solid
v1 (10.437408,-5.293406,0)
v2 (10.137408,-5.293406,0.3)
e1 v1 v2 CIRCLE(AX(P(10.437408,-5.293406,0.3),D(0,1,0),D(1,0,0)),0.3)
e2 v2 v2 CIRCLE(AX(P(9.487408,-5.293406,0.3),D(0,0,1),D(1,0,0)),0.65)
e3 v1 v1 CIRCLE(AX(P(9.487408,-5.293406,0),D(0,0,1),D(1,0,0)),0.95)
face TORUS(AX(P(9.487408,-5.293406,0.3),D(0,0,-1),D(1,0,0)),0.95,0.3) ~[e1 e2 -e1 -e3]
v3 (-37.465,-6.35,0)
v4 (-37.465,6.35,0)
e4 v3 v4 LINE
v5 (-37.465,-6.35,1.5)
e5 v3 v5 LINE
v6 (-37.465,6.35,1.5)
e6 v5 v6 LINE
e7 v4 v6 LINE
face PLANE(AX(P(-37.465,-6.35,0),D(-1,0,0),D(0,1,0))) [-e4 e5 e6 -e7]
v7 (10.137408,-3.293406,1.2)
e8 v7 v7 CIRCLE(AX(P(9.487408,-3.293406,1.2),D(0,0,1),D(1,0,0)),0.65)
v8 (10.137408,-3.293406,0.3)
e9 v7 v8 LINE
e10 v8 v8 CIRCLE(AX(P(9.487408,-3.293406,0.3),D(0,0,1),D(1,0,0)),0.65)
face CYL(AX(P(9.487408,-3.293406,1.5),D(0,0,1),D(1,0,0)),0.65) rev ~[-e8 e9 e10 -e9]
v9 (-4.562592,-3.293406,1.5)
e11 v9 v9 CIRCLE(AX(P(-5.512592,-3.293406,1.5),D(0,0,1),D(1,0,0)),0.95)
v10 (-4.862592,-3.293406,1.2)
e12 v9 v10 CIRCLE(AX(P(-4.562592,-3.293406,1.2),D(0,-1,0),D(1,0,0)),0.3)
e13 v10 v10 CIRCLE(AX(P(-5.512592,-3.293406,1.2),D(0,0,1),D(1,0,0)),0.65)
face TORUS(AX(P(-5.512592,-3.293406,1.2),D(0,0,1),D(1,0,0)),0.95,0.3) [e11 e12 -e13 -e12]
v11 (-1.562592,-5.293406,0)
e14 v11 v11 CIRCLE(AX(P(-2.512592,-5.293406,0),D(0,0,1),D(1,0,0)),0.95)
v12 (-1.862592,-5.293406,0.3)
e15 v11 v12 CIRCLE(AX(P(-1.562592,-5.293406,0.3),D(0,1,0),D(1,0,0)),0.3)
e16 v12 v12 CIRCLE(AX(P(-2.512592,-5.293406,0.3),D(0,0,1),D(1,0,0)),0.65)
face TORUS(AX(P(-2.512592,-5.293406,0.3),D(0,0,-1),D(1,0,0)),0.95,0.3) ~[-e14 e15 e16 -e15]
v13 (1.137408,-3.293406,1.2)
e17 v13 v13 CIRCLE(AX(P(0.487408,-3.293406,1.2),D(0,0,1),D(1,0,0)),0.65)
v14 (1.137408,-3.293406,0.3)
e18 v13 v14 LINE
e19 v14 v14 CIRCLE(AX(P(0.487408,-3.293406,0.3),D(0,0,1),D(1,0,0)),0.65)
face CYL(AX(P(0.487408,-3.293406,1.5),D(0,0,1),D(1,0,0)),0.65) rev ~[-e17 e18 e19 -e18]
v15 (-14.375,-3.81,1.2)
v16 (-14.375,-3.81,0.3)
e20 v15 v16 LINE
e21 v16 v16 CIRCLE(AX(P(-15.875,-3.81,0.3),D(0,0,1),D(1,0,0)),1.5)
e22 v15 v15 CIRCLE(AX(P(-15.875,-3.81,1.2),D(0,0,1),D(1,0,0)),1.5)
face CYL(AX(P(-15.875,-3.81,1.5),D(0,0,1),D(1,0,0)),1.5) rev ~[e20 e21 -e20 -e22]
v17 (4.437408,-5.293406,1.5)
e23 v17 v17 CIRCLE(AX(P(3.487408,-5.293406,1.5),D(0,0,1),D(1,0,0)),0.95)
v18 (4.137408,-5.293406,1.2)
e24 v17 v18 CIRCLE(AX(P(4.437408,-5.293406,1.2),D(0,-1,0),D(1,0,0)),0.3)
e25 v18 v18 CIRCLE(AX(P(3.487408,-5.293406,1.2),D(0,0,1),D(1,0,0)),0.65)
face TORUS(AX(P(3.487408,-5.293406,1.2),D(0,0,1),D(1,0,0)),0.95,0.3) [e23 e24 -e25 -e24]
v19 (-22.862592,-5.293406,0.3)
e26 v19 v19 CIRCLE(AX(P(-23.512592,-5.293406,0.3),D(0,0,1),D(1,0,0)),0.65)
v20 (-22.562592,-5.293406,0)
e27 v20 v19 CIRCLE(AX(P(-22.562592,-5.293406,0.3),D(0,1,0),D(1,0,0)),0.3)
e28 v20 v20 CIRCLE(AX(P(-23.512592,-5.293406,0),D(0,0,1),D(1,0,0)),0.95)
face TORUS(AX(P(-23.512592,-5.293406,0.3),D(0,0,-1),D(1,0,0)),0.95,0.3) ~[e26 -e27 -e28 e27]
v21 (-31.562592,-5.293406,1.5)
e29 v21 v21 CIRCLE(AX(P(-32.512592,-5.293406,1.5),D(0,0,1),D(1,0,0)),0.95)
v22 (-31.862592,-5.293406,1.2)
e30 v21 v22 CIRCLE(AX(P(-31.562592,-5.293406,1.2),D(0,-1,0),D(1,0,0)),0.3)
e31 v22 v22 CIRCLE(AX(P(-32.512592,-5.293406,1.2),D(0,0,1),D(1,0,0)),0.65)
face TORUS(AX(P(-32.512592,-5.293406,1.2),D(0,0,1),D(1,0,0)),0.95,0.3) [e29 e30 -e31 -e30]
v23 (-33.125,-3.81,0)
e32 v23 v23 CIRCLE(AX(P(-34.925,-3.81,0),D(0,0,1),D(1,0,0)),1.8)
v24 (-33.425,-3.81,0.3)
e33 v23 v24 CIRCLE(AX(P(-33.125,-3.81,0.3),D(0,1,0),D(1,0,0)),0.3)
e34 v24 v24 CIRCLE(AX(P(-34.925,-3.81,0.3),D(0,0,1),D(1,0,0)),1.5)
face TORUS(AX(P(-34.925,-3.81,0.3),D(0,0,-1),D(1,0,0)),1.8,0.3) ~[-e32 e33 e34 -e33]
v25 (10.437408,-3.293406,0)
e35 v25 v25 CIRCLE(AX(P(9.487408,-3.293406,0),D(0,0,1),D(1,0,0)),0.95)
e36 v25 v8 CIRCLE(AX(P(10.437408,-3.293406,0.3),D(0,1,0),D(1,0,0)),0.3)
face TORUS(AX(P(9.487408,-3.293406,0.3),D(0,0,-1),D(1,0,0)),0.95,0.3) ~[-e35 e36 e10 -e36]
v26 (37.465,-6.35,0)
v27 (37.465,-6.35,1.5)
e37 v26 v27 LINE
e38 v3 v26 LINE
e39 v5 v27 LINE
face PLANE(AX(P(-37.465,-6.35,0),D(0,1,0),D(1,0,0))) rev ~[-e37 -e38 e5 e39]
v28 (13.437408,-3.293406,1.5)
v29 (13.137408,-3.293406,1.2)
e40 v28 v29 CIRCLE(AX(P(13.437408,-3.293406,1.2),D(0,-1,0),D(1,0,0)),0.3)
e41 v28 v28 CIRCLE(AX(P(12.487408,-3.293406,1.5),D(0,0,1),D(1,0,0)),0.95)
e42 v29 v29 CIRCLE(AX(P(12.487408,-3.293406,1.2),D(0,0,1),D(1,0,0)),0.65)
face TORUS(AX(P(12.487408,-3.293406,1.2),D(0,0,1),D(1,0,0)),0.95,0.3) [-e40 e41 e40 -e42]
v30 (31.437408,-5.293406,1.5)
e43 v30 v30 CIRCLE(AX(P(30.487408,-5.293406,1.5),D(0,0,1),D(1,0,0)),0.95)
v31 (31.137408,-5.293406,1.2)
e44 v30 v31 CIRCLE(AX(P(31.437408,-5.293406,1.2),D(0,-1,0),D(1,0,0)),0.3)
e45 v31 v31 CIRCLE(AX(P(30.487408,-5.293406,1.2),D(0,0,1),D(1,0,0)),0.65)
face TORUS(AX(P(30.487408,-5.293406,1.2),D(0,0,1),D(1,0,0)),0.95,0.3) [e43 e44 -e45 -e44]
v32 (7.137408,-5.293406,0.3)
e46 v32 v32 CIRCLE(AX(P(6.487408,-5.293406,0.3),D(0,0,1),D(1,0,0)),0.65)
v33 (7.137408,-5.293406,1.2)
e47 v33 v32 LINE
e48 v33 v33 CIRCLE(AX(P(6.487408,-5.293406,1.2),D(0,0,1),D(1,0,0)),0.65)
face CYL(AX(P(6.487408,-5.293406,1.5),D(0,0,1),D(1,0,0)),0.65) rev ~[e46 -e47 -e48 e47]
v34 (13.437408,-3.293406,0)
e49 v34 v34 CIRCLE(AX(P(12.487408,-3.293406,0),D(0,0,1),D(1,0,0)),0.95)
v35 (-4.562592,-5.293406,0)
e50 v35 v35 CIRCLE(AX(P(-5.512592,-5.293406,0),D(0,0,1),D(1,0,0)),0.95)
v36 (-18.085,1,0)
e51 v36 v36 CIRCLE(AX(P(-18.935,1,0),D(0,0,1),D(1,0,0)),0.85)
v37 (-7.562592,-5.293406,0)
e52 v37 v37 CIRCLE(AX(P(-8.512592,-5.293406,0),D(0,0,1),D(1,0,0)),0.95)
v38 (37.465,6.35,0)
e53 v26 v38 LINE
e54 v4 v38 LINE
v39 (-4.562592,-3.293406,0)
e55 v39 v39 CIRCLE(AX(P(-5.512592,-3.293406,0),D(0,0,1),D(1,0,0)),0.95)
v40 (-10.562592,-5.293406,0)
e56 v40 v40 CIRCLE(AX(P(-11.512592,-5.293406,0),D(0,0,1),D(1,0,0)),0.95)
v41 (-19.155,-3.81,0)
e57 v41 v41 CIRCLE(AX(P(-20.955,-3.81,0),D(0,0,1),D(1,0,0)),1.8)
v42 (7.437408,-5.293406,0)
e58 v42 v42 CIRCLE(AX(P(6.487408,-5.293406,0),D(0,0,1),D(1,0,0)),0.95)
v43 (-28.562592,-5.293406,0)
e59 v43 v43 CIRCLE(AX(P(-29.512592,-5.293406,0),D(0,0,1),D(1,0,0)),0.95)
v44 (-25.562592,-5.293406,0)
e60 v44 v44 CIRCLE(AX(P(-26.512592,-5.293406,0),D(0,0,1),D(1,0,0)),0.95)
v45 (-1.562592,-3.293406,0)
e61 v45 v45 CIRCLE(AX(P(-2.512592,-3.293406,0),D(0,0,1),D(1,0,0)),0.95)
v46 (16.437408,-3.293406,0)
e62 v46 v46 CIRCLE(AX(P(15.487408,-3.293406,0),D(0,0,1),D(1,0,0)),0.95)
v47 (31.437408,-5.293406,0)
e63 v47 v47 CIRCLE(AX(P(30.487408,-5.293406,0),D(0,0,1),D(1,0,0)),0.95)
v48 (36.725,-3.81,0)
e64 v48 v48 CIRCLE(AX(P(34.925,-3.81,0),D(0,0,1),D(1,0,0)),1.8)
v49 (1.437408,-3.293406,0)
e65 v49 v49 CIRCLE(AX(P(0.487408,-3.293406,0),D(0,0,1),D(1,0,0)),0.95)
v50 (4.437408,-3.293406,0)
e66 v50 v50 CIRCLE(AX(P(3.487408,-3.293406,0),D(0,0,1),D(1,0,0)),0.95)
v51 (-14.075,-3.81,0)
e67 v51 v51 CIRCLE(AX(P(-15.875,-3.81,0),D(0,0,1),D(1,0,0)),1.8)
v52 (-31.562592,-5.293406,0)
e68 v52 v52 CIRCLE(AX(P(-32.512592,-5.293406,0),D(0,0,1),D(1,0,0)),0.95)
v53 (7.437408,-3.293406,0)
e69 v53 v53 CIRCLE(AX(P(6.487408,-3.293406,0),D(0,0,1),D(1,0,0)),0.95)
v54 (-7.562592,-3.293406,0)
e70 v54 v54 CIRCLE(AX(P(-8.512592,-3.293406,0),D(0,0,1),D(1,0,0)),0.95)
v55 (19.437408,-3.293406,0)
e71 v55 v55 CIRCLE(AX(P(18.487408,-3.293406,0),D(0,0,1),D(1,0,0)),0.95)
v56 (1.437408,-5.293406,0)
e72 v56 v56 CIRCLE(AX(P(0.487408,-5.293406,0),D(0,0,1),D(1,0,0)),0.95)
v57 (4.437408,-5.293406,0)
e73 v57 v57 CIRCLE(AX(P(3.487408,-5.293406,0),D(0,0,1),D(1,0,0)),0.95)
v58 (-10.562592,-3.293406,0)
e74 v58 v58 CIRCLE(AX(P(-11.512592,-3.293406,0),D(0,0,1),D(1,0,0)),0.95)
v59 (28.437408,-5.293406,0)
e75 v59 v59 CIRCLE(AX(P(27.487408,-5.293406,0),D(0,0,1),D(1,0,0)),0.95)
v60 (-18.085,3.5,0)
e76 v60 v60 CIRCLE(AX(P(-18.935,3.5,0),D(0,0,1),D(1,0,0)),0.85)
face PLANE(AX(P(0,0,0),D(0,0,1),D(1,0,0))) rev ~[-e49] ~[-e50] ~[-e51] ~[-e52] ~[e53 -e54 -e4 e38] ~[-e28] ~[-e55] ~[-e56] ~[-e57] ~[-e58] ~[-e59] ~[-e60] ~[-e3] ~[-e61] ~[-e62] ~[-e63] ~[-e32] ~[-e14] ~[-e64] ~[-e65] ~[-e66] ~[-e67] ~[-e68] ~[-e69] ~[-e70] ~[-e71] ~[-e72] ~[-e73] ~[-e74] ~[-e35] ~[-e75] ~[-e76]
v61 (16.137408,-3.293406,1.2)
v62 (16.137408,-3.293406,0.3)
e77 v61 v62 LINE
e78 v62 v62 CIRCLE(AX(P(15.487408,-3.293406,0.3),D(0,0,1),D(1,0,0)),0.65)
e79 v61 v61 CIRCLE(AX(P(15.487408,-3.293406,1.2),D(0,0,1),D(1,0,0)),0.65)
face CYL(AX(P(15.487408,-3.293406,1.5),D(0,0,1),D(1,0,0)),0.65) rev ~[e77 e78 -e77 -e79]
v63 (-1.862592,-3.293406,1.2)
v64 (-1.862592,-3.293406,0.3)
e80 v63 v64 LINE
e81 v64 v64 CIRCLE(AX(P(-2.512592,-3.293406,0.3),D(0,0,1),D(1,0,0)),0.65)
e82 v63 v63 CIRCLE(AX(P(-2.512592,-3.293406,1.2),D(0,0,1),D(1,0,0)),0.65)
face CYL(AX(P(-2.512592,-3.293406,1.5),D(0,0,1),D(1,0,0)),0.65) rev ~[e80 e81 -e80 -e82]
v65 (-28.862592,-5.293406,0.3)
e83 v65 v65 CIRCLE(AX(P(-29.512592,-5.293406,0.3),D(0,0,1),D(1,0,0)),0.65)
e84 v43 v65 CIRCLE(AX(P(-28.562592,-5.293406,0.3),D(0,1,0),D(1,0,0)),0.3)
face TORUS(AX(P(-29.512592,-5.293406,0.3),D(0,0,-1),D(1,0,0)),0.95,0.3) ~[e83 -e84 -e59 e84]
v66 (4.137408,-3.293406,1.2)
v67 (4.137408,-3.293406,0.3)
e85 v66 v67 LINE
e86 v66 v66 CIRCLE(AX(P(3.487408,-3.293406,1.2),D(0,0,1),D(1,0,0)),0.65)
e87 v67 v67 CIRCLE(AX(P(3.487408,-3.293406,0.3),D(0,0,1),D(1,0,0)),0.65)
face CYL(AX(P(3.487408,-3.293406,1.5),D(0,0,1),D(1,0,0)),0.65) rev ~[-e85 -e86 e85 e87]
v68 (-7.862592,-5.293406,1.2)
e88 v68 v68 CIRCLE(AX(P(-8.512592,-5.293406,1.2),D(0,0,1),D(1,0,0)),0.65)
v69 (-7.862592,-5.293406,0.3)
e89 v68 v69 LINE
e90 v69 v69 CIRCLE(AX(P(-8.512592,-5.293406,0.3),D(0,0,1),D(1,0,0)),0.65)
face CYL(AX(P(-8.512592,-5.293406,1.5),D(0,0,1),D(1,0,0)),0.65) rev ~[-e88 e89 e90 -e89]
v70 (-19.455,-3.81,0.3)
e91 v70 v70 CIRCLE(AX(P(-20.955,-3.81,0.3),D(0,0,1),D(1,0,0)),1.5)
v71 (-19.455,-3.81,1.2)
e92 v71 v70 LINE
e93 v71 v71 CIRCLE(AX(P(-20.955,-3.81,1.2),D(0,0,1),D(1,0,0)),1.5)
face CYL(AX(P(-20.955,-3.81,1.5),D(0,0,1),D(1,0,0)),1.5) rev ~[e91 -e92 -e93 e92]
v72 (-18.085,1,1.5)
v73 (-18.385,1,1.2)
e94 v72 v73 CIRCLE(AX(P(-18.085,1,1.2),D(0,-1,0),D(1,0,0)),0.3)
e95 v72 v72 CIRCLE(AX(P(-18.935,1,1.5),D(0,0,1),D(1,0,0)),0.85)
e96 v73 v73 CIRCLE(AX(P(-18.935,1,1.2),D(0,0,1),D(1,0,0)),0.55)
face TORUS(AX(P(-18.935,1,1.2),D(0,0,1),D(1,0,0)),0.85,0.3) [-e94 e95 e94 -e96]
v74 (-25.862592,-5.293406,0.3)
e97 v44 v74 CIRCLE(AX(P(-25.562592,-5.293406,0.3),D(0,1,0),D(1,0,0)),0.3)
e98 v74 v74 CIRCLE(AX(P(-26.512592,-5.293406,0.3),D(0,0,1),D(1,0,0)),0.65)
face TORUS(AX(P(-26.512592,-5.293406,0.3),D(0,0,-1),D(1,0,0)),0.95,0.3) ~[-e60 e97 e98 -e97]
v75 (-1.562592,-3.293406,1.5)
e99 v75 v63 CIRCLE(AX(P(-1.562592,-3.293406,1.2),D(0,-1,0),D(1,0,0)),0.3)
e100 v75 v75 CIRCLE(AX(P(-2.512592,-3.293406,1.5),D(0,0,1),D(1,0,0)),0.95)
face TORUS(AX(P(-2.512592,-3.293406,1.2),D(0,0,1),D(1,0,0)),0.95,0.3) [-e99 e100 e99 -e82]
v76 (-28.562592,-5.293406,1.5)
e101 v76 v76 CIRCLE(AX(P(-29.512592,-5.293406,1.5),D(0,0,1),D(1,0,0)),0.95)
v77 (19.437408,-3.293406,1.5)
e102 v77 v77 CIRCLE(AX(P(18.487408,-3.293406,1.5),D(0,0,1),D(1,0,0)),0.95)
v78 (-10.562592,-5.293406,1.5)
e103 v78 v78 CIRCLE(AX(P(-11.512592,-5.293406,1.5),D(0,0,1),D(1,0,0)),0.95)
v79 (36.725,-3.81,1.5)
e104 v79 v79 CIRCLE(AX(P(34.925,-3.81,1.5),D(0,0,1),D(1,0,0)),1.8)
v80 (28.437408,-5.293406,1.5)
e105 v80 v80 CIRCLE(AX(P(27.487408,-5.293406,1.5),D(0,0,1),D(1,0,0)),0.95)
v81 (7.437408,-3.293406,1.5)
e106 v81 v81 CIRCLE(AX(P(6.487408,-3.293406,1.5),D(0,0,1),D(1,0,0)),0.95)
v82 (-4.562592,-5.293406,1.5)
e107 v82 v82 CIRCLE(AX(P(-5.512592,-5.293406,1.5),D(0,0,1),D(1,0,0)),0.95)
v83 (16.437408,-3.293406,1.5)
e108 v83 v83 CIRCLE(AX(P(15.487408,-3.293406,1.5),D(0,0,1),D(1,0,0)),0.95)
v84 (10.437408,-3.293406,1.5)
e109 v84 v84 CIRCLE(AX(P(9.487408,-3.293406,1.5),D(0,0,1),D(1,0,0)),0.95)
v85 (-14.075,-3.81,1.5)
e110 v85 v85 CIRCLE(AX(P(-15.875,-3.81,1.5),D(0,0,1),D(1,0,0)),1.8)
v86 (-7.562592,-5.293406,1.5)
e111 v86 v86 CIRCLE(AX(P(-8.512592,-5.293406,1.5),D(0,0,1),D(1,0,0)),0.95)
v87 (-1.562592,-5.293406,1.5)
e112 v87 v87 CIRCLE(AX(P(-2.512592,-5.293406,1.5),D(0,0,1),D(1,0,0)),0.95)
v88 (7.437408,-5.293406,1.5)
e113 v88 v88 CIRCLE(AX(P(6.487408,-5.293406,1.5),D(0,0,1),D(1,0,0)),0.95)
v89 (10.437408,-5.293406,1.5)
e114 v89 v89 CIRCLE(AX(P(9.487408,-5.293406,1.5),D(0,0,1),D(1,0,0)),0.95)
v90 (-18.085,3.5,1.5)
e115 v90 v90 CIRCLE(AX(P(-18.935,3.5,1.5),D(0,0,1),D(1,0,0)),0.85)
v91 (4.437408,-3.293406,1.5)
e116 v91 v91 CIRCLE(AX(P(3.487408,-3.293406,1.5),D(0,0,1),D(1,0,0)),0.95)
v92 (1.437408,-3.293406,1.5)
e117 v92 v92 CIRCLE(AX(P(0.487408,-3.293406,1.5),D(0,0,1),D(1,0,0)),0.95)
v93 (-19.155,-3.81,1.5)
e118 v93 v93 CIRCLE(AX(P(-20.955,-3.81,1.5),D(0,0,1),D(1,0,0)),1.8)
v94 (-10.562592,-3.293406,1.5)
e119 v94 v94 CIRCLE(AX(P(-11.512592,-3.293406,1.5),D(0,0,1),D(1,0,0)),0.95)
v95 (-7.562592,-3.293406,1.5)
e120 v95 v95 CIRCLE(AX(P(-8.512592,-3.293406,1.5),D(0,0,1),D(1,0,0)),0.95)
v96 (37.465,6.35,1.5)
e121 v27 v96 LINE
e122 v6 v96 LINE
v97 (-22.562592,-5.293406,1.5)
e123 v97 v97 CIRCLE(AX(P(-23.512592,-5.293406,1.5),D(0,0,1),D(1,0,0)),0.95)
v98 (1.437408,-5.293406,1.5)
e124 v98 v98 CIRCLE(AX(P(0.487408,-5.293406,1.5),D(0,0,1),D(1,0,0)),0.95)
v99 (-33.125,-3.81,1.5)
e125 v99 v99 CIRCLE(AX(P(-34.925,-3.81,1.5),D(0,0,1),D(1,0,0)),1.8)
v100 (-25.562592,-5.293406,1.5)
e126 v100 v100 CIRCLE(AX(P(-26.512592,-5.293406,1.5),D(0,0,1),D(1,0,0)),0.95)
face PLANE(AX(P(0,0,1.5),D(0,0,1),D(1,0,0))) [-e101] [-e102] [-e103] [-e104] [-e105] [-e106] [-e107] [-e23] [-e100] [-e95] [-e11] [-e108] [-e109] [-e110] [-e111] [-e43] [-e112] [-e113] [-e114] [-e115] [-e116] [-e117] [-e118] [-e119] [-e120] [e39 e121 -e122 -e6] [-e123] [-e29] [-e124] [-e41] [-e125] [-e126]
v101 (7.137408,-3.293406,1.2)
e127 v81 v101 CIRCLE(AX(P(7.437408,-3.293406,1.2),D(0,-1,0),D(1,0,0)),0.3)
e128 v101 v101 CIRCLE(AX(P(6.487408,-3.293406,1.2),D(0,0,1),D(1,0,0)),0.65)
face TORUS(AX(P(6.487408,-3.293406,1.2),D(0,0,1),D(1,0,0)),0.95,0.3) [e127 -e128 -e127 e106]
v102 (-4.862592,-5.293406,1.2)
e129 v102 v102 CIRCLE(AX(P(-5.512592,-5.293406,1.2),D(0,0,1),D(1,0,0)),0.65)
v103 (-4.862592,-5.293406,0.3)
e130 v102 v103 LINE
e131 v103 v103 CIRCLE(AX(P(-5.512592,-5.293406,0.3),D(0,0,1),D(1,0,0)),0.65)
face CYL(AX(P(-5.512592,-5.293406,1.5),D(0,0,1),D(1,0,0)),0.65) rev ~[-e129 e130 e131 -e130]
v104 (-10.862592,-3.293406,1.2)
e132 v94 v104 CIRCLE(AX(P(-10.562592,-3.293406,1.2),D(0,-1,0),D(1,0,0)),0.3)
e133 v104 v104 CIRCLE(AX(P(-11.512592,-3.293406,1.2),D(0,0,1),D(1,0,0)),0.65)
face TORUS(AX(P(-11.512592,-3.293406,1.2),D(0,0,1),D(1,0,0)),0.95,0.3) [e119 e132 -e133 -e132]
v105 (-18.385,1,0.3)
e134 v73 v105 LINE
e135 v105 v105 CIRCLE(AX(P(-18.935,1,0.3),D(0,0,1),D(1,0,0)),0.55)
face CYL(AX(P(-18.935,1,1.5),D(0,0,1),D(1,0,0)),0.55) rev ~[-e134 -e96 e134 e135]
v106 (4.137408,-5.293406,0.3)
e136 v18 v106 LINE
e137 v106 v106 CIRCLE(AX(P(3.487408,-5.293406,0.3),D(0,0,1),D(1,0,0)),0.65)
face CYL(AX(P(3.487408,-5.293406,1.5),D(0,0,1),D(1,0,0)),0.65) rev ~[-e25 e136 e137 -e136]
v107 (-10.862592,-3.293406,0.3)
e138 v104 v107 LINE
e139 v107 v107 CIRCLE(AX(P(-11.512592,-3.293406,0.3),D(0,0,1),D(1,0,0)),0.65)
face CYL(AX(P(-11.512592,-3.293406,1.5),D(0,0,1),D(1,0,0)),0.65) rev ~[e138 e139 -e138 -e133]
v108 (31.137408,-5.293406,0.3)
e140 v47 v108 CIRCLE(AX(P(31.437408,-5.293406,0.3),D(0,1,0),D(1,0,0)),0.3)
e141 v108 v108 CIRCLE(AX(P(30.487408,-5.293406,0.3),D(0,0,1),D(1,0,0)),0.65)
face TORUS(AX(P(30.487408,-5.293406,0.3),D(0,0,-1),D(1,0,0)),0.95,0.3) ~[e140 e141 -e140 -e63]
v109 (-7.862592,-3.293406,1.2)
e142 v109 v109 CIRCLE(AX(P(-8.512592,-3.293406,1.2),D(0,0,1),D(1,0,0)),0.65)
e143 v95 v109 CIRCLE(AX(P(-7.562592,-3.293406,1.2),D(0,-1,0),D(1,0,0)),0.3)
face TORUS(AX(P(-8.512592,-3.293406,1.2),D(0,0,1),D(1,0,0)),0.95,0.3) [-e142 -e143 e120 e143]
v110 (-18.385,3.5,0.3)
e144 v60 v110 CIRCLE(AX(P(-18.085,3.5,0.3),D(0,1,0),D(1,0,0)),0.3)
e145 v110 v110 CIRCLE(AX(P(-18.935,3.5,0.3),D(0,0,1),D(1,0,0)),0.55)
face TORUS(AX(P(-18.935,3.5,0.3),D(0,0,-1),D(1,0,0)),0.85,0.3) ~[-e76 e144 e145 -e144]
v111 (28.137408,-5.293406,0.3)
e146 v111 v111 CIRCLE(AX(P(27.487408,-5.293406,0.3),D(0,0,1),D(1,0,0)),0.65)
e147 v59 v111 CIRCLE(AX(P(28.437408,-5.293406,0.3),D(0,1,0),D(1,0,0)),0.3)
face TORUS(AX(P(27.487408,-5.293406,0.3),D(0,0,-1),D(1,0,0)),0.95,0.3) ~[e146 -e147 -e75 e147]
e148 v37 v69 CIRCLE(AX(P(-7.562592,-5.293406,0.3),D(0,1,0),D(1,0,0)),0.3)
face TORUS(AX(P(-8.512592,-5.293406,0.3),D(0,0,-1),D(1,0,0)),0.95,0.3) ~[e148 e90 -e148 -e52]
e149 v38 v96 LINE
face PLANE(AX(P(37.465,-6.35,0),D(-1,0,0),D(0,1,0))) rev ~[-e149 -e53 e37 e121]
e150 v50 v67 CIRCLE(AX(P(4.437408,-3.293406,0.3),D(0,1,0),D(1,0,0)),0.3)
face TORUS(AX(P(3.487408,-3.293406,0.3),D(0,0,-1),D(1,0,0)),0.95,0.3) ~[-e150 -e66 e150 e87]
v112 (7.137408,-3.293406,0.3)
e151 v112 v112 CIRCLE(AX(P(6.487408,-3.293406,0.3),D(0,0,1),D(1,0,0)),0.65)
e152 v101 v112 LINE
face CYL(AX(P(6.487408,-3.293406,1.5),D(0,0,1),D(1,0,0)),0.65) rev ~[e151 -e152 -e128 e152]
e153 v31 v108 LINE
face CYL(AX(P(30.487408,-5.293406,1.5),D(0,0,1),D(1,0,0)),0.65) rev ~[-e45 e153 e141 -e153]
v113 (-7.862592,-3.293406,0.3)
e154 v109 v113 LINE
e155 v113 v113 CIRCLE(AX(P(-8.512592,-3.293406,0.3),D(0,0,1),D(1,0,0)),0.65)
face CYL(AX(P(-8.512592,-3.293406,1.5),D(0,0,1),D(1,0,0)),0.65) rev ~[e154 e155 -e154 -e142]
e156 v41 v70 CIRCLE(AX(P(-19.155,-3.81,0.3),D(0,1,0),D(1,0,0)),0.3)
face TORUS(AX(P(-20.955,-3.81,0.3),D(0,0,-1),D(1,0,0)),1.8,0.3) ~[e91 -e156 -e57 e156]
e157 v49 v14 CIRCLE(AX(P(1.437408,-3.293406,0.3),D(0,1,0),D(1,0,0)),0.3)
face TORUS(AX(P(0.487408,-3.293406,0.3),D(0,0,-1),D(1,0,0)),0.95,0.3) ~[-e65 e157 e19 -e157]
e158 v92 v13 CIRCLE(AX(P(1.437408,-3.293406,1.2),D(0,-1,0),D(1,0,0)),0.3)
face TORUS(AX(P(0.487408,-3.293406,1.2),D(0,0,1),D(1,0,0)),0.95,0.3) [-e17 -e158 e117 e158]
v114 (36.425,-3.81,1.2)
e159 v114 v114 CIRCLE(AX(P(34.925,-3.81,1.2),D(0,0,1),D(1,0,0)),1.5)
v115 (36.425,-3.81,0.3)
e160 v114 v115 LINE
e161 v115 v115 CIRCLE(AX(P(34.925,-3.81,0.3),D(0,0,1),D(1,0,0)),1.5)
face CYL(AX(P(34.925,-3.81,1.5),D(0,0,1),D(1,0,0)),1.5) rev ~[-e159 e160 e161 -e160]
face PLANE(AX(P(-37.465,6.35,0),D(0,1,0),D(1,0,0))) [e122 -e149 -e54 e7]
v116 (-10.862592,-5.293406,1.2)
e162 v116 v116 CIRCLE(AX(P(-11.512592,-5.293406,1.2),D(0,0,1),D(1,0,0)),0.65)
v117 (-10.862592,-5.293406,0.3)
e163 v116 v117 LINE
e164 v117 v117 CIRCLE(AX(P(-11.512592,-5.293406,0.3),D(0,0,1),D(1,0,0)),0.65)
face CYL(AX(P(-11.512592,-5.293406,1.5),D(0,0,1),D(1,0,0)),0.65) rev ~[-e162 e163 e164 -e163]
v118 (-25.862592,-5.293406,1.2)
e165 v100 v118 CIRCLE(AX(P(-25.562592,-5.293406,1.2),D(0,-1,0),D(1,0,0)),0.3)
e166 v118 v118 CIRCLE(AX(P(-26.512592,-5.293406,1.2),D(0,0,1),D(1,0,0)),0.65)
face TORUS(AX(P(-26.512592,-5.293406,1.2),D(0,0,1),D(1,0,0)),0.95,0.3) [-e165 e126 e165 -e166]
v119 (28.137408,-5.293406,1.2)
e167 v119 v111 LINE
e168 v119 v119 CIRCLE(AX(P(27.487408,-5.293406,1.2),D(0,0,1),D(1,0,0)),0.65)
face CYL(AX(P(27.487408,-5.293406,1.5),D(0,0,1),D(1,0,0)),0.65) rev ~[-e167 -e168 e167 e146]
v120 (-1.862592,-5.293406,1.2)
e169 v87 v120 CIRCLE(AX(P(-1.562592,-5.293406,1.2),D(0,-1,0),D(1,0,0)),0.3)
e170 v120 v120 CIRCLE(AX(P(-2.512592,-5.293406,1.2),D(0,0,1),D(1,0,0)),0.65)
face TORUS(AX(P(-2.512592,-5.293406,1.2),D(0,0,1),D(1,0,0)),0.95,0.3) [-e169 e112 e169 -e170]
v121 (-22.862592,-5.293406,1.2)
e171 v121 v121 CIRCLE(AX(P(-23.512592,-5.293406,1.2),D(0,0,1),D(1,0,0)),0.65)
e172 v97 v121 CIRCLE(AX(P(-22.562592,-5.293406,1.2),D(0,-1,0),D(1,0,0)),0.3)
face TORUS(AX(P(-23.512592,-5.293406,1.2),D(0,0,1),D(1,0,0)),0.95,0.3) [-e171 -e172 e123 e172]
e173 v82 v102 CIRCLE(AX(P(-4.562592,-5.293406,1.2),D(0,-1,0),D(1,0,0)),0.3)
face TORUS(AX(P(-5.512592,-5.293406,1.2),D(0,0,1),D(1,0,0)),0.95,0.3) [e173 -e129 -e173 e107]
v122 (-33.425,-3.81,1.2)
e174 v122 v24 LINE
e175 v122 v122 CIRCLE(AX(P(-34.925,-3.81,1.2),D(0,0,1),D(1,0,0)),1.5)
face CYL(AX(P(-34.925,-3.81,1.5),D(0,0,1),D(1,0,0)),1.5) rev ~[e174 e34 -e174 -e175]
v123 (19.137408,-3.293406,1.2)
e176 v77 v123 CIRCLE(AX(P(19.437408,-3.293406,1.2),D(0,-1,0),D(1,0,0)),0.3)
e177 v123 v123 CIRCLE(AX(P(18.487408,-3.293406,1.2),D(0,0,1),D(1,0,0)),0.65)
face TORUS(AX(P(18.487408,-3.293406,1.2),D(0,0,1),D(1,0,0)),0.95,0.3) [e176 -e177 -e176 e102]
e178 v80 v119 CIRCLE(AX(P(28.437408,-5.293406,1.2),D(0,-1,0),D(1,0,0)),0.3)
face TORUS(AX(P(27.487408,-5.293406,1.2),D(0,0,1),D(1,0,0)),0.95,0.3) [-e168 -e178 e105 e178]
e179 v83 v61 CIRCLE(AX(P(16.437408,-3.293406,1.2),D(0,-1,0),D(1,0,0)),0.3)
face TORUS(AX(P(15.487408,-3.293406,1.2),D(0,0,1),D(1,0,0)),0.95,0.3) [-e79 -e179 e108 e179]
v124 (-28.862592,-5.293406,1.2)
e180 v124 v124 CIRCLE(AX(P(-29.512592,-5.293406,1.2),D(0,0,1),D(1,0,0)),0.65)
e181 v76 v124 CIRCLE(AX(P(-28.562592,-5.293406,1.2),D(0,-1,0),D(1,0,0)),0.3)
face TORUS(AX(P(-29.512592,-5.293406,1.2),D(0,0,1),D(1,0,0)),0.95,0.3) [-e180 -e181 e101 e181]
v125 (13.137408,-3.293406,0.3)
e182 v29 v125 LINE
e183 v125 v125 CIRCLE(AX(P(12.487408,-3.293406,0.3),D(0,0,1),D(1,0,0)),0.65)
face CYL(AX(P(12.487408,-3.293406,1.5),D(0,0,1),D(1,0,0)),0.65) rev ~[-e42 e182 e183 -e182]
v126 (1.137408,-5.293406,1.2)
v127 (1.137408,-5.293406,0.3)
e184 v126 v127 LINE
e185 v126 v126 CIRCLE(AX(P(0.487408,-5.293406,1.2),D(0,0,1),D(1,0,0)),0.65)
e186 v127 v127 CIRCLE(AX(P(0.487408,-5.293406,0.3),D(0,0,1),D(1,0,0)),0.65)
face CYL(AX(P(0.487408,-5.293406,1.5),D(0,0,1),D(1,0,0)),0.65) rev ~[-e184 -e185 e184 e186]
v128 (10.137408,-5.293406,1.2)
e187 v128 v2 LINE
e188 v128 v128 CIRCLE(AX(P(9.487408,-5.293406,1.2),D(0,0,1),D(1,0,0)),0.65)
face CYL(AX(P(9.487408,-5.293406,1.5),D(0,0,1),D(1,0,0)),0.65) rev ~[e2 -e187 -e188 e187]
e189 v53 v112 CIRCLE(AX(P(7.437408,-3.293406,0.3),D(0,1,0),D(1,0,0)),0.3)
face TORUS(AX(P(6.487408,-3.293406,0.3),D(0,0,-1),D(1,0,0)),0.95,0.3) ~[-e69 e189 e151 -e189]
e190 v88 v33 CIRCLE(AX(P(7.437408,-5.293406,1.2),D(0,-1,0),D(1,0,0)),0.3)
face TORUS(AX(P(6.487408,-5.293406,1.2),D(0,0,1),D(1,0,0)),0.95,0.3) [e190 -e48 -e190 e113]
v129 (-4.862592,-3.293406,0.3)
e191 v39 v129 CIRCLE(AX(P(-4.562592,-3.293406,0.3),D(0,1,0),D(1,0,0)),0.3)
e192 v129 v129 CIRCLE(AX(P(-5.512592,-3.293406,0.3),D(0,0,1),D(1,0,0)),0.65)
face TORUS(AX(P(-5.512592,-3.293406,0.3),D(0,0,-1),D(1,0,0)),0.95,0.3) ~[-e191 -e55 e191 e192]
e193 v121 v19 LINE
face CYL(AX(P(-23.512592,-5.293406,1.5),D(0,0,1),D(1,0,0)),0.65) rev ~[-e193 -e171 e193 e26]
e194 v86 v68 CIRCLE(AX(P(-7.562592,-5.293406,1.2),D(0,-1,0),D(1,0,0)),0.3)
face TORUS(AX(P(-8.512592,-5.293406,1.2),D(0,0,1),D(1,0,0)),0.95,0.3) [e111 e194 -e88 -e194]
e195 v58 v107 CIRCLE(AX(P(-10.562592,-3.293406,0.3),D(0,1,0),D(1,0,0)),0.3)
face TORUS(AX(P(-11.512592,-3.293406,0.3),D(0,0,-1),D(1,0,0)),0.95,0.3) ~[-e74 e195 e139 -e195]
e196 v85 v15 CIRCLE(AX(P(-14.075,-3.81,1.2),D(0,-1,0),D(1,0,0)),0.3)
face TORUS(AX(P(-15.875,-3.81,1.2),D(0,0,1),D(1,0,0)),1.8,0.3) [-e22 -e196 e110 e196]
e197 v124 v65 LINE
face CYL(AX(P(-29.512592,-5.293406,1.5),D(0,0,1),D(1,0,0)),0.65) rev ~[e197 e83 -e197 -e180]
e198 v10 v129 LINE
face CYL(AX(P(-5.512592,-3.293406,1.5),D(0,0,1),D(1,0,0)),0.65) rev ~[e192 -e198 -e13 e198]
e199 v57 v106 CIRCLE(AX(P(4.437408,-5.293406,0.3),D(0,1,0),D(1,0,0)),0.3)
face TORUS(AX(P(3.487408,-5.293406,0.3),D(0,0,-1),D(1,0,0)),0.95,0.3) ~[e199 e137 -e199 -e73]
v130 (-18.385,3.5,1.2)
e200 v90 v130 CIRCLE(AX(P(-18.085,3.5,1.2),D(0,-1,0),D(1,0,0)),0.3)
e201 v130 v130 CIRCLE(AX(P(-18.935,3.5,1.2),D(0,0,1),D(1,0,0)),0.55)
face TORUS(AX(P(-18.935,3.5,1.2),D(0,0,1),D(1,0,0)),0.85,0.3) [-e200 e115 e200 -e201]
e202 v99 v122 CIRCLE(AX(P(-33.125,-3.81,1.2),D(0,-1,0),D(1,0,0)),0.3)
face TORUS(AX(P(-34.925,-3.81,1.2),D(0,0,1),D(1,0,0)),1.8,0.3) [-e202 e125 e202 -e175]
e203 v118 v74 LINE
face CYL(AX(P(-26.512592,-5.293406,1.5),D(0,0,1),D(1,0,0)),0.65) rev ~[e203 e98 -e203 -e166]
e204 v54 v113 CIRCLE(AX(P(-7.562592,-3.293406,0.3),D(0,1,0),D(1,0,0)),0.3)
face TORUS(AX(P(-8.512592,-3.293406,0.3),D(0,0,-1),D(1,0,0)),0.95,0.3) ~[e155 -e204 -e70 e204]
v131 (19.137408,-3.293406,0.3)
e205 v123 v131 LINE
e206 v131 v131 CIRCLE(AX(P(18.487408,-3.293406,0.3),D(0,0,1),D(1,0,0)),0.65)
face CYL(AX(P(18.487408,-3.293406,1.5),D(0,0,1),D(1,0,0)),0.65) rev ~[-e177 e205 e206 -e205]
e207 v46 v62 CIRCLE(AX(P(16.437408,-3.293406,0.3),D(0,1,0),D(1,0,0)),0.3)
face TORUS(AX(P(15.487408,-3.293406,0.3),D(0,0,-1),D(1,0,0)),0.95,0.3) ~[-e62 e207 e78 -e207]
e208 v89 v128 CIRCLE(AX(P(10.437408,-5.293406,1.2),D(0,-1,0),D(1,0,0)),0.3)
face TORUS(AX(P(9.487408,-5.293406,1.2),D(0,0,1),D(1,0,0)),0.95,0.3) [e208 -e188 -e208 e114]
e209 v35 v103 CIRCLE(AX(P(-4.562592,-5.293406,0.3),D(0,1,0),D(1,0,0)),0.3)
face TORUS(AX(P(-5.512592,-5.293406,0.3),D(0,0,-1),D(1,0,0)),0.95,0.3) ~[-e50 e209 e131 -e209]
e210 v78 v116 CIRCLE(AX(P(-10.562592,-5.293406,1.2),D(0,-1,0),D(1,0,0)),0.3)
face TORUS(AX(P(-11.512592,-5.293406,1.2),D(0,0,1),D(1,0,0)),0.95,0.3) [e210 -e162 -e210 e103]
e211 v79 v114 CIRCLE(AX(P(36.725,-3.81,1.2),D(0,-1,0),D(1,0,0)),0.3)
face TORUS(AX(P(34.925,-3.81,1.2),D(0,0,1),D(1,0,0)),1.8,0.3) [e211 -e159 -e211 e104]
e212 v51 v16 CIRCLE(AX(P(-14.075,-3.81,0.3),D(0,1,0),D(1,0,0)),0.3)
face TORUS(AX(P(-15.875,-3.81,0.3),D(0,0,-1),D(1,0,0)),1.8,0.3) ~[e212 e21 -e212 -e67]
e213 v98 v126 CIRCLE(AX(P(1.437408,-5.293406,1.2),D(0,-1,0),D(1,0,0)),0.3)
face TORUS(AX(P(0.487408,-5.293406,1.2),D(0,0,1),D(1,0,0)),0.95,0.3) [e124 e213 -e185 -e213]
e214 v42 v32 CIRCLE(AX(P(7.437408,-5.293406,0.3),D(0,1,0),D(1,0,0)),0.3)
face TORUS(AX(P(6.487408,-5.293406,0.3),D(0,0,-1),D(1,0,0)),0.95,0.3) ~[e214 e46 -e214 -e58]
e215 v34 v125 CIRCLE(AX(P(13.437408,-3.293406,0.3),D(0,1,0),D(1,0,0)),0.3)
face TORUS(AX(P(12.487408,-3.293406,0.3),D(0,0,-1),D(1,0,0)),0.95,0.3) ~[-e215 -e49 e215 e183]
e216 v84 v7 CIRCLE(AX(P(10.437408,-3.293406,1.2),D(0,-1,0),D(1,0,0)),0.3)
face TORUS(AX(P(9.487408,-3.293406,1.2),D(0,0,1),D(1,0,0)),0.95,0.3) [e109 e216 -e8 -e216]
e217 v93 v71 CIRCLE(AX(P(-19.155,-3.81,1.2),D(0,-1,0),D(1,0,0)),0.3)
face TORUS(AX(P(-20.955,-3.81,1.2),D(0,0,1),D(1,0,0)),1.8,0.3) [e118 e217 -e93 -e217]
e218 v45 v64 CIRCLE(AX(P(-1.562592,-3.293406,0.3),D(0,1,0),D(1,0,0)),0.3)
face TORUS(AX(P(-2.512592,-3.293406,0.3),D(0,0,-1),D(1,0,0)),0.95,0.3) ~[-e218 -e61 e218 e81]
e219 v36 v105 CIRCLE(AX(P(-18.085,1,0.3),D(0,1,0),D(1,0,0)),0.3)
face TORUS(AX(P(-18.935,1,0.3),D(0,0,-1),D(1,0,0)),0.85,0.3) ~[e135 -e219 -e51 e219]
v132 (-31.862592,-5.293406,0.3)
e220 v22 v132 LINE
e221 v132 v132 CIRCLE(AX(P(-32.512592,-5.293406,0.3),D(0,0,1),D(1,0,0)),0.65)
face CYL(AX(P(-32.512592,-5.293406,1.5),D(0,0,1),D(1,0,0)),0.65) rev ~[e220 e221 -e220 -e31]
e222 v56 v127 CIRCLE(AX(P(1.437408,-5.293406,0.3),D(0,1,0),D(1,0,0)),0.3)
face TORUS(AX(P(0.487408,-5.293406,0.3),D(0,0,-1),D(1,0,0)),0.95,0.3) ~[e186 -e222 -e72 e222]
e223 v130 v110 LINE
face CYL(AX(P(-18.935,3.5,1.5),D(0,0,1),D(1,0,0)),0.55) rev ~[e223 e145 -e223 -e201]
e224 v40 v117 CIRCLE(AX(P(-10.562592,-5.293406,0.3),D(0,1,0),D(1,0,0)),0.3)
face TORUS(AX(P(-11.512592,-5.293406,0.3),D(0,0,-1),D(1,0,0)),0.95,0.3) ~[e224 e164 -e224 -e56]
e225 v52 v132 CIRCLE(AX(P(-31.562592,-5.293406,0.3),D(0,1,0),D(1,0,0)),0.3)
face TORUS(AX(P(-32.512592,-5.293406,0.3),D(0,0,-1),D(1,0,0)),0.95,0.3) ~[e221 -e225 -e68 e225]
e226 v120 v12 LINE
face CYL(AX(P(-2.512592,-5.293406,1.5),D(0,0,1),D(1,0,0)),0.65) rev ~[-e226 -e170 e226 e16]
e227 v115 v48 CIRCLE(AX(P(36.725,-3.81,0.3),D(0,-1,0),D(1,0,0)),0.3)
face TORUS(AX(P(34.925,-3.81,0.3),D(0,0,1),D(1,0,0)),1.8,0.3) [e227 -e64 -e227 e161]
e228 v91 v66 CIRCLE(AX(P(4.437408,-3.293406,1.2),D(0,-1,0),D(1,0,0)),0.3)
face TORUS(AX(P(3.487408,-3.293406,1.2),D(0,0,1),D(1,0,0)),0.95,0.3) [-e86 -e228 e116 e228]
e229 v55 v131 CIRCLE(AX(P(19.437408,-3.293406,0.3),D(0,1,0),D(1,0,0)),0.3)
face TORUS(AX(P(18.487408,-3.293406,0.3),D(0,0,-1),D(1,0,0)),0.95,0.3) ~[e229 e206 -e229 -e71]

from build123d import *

# Parameters (mm, degrees)
CROQUIS3_W              = 74.93
CROQUIS3_H              = 12.7
SALIENTE_EXTRUIR2_DEPTH = 1.5
CROQUIS4_R              = 1.5
CROQUIS4_R_2            = 0.65
CROQUIS4_R_3            = 0.55
CORTAR_EXTRUIR1_DEPTH   = 3.175
REDONDEO37_R            = 0.3
REDONDEO38_R            = 0.3
REDONDEO39_R            = 0.3
REDONDEO40_R            = 0.3
REDONDEO41_R            = 0.3
REDONDEO42_R            = 0.3
REDONDEO43_R            = 0.3
REDONDEO44_R            = 0.3
REDONDEO45_R            = 0.3
REDONDEO46_R            = 0.3
REDONDEO47_R            = 0.3
REDONDEO48_R            = 0.3
REDONDEO49_R            = 0.3
REDONDEO50_R            = 0.3
REDONDEO51_R            = 0.3
REDONDEO52_R            = 0.3
REDONDEO53_R            = 0.3
REDONDEO54_R            = 0.3
REDONDEO55_R            = 0.3
REDONDEO56_R            = 0.3
REDONDEO57_R            = 0.3
REDONDEO58_R            = 0.3
REDONDEO59_R            = 0.3
REDONDEO60_R            = 0.3
REDONDEO61_R            = 0.3
REDONDEO62_R            = 0.3
REDONDEO63_R            = 0.3
REDONDEO64_R            = 0.3
REDONDEO65_R            = 0.3
REDONDEO66_R            = 0.3
REDONDEO67_R            = 0.3
REDONDEO68_R            = 0.3
REDONDEO69_R            = 0.3
REDONDEO70_R            = 0.3
REDONDEO71_R            = 0.3
REDONDEO72_R            = 0.3
REDONDEO73_R            = 0.3
REDONDEO74_R            = 0.3
REDONDEO75_R            = 0.3
REDONDEO76_R            = 0.3
REDONDEO77_R            = 0.3
REDONDEO78_R            = 0.3
REDONDEO79_R            = 0.3
REDONDEO80_R            = 0.3
REDONDEO81_R            = 0.3
REDONDEO82_R            = 0.3
REDONDEO83_R            = 0.3
REDONDEO84_R            = 0.3
REDONDEO85_R            = 0.3
REDONDEO86_R            = 0.3
REDONDEO87_R            = 0.3
REDONDEO88_R            = 0.3
REDONDEO89_R            = 0.3
REDONDEO90_R            = 0.3
REDONDEO91_R            = 0.3
REDONDEO92_R            = 0.3
REDONDEO93_R            = 0.3
REDONDEO94_R            = 0.3
REDONDEO95_R            = 0.3
REDONDEO96_R            = 0.3
REDONDEO97_R            = 0.3
REDONDEO98_R            = 0.3


with BuildPart() as part:
    # Croquis3 → Saliente-Extruir2 (new body)
    with BuildSketch(Plane.XY):
        Rectangle(CROQUIS3_W, CROQUIS3_H)
    extrude(amount=SALIENTE_EXTRUIR2_DEPTH)

    # Croquis4 → Cortar-Extruir1 (cut)
    with BuildSketch(Plane.XY.offset(1.5)):
        with Locations((-34.925, -3.81)):
            Circle(CROQUIS4_R)
        with Locations((-20.955, -3.81)):
            Circle(CROQUIS4_R)
        with Locations((-15.875, -3.81)):
            Circle(CROQUIS4_R)
        with Locations((34.925, -3.81)):
            Circle(CROQUIS4_R)
        with Locations((-32.512591607, -5.293405739)):
            Circle(CROQUIS4_R_2)
        with Locations((-29.512591607, -5.293405739)):
            Circle(CROQUIS4_R_2)
        with Locations((-26.512591607, -5.293405739)):
            Circle(CROQUIS4_R_2)
        with Locations((-23.512591607, -5.293405739)):
            Circle(CROQUIS4_R_2)
        with Locations((-18.935, 1)):
            Circle(CROQUIS4_R_3)
        with Locations((-18.935, 3.5)):
            Circle(CROQUIS4_R_3)
        with Locations((-11.512591607, -5.293405739)):
            Circle(CROQUIS4_R_2)
        with Locations((-8.512591607, -5.293405739)):
            Circle(CROQUIS4_R_2)
        with Locations((-5.512591607, -5.293405739)):
            Circle(CROQUIS4_R_2)
        with Locations((-2.512591607, -5.293405739)):
            Circle(CROQUIS4_R_2)
        with Locations((0.487408393, -5.293405739)):
            Circle(CROQUIS4_R_2)
        with Locations((3.487408393, -5.293405739)):
            Circle(CROQUIS4_R_2)
        with Locations((6.487408393, -5.293405739)):
            Circle(CROQUIS4_R_2)
        with Locations((9.487408393, -5.293405739)):
            Circle(CROQUIS4_R_2)
        with Locations((27.487408393, -5.293405739)):
            Circle(CROQUIS4_R_2)
        with Locations((30.487408393, -5.293405739)):
            Circle(CROQUIS4_R_2)
        with Locations((-11.512591607, -3.293405739)):
            Circle(CROQUIS4_R_2)
        with Locations((-8.512591607, -3.293405739)):
            Circle(CROQUIS4_R_2)
        with Locations((-5.512591607, -3.293405739)):
            Circle(CROQUIS4_R_2)
        with Locations((-2.512591607, -3.293405739)):
            Circle(CROQUIS4_R_2)
        with Locations((0.487408393, -3.293405739)):
            Circle(CROQUIS4_R_2)
        with Locations((3.487408393, -3.293405739)):
            Circle(CROQUIS4_R_2)
        with Locations((6.487408393, -3.293405739)):
            Circle(CROQUIS4_R_2)
        with Locations((9.487408393, -3.293405739)):
            Circle(CROQUIS4_R_2)
        with Locations((12.487408393, -3.293405739)):
            Circle(CROQUIS4_R_2)
        with Locations((15.487408393, -3.293405739)):
            Circle(CROQUIS4_R_2)
        with Locations((18.487408393, -3.293405739)):
            Circle(CROQUIS4_R_2)
    extrude(amount=-CORTAR_EXTRUIR1_DEPTH, mode=Mode.SUBTRACT)

    # Redondeo37
    redondeo37_edges = [part.edges().sort_by_distance(p)[0] for p in [
        (-36.425, -3.81, 1.5),
    ]]
    fillet(redondeo37_edges, radius=REDONDEO37_R)

    # Redondeo38
    redondeo38_edges = [part.edges().sort_by_distance(p)[0] for p in [
        (-33.162591607, -5.293405739, 1.5),
    ]]
    fillet(redondeo38_edges, radius=REDONDEO38_R)

    # Redondeo39
    redondeo39_edges = [part.edges().sort_by_distance(p)[0] for p in [
        (-30.162591607, -5.293405739, 1.5),
    ]]
    fillet(redondeo39_edges, radius=REDONDEO39_R)

    # Redondeo40
    redondeo40_edges = [part.edges().sort_by_distance(p)[0] for p in [
        (-27.162591607, -5.293405739, 1.5),
    ]]
    fillet(redondeo40_edges, radius=REDONDEO40_R)

    # Redondeo41
    redondeo41_edges = [part.edges().sort_by_distance(p)[0] for p in [
        (-24.162591607, -5.293405739, 1.5),
    ]]
    fillet(redondeo41_edges, radius=REDONDEO41_R)

    # Redondeo42
    redondeo42_edges = [part.edges().sort_by_distance(p)[0] for p in [
        (-22.455, -3.81, 1.5),
    ]]
    fillet(redondeo42_edges, radius=REDONDEO42_R)

    # Redondeo43
    redondeo43_edges = [part.edges().sort_by_distance(p)[0] for p in [
        (-19.485, 1, 1.5),
    ]]
    fillet(redondeo43_edges, radius=REDONDEO43_R)

    # Redondeo44
    redondeo44_edges = [part.edges().sort_by_distance(p)[0] for p in [
        (-19.485, 3.5, 1.5),
    ]]
    fillet(redondeo44_edges, radius=REDONDEO44_R)

    # Redondeo45
    redondeo45_edges = [part.edges().sort_by_distance(p)[0] for p in [
        (-17.375, -3.81, 1.5),
    ]]
    fillet(redondeo45_edges, radius=REDONDEO45_R)

    # Redondeo46
    redondeo46_edges = [part.edges().sort_by_distance(p)[0] for p in [
        (-12.162591607, -5.293405739, 1.5),
    ]]
    fillet(redondeo46_edges, radius=REDONDEO46_R)

    # Redondeo47
    redondeo47_edges = [part.edges().sort_by_distance(p)[0] for p in [
        (-12.162591607, -3.293405739, 1.5),
    ]]
    fillet(redondeo47_edges, radius=REDONDEO47_R)

    # Redondeo48
    redondeo48_edges = [part.edges().sort_by_distance(p)[0] for p in [
        (-9.162591607, -3.293405739, 1.5),
    ]]
    fillet(redondeo48_edges, radius=REDONDEO48_R)

    # Redondeo49
    redondeo49_edges = [part.edges().sort_by_distance(p)[0] for p in [
        (-9.162591607, -5.293405739, 1.5),
    ]]
    fillet(redondeo49_edges, radius=REDONDEO49_R)

    # Redondeo50
    redondeo50_edges = [part.edges().sort_by_distance(p)[0] for p in [
        (-6.162591607, -5.293405739, 1.5),
    ]]
    fillet(redondeo50_edges, radius=REDONDEO50_R)

    # Redondeo51
    redondeo51_edges = [part.edges().sort_by_distance(p)[0] for p in [
        (-6.162591607, -3.293405739, 1.5),
    ]]
    fillet(redondeo51_edges, radius=REDONDEO51_R)

    # Redondeo52
    redondeo52_edges = [part.edges().sort_by_distance(p)[0] for p in [
        (-3.162591607, -5.293405739, 1.5),
    ]]
    fillet(redondeo52_edges, radius=REDONDEO52_R)

    # Redondeo53
    redondeo53_edges = [part.edges().sort_by_distance(p)[0] for p in [
        (-3.162591607, -3.293405739, 1.5),
    ]]
    fillet(redondeo53_edges, radius=REDONDEO53_R)

    # Redondeo54
    redondeo54_edges = [part.edges().sort_by_distance(p)[0] for p in [
        (-0.162591607, -3.293405739, 1.5),
    ]]
    fillet(redondeo54_edges, radius=REDONDEO54_R)

    # Redondeo55
    redondeo55_edges = [part.edges().sort_by_distance(p)[0] for p in [
        (-0.162591607, -5.293405739, 1.5),
    ]]
    fillet(redondeo55_edges, radius=REDONDEO55_R)

    # Redondeo56
    redondeo56_edges = [part.edges().sort_by_distance(p)[0] for p in [
        (2.837408393, -5.293405739, 1.5),
    ]]
    fillet(redondeo56_edges, radius=REDONDEO56_R)

    # Redondeo57
    redondeo57_edges = [part.edges().sort_by_distance(p)[0] for p in [
        (2.837408393, -3.293405739, 1.5),
    ]]
    fillet(redondeo57_edges, radius=REDONDEO57_R)

    # Redondeo58
    redondeo58_edges = [part.edges().sort_by_distance(p)[0] for p in [
        (5.837408393, -3.293405739, 1.5),
    ]]
    fillet(redondeo58_edges, radius=REDONDEO58_R)

    # Redondeo59
    redondeo59_edges = [part.edges().sort_by_distance(p)[0] for p in [
        (5.837408393, -5.293405739, 1.5),
    ]]
    fillet(redondeo59_edges, radius=REDONDEO59_R)

    # Redondeo60
    redondeo60_edges = [part.edges().sort_by_distance(p)[0] for p in [
        (8.837408393, -5.293405739, 1.5),
    ]]
    fillet(redondeo60_edges, radius=REDONDEO60_R)

    # Redondeo61
    redondeo61_edges = [part.edges().sort_by_distance(p)[0] for p in [
        (8.837408393, -3.293405739, 1.5),
    ]]
    fillet(redondeo61_edges, radius=REDONDEO61_R)

    # Redondeo62
    redondeo62_edges = [part.edges().sort_by_distance(p)[0] for p in [
        (11.837408393, -3.293405739, 1.5),
    ]]
    fillet(redondeo62_edges, radius=REDONDEO62_R)

    # Redondeo63
    redondeo63_edges = [part.edges().sort_by_distance(p)[0] for p in [
        (14.837408393, -3.293405739, 1.5),
    ]]
    fillet(redondeo63_edges, radius=REDONDEO63_R)

    # Redondeo64
    redondeo64_edges = [part.edges().sort_by_distance(p)[0] for p in [
        (17.837408393, -3.293405739, 1.5),
    ]]
    fillet(redondeo64_edges, radius=REDONDEO64_R)

    # Redondeo65
    redondeo65_edges = [part.edges().sort_by_distance(p)[0] for p in [
        (26.837408393, -5.293405739, 1.5),
    ]]
    fillet(redondeo65_edges, radius=REDONDEO65_R)

    # Redondeo66
    redondeo66_edges = [part.edges().sort_by_distance(p)[0] for p in [
        (29.837408393, -5.293405739, 1.5),
    ]]
    fillet(redondeo66_edges, radius=REDONDEO66_R)

    # Redondeo67
    redondeo67_edges = [part.edges().sort_by_distance(p)[0] for p in [
        (33.425, -3.81, 1.5),
    ]]
    fillet(redondeo67_edges, radius=REDONDEO67_R)

    # Redondeo68
    redondeo68_edges = [part.edges().sort_by_distance(p)[0] for p in [
        (33.425, -3.81, 0),
    ]]
    fillet(redondeo68_edges, radius=REDONDEO68_R)

    # Redondeo69
    redondeo69_edges = [part.edges().sort_by_distance(p)[0] for p in [
        (29.837408393, -5.293405739, 0),
    ]]
    fillet(redondeo69_edges, radius=REDONDEO69_R)

    # Redondeo70
    redondeo70_edges = [part.edges().sort_by_distance(p)[0] for p in [
        (26.837408393, -5.293405739, 0),
    ]]
    fillet(redondeo70_edges, radius=REDONDEO70_R)

    # Redondeo71
    redondeo71_edges = [part.edges().sort_by_distance(p)[0] for p in [
        (17.837408393, -3.293405739, 0),
    ]]
    fillet(redondeo71_edges, radius=REDONDEO71_R)

    # Redondeo72
    redondeo72_edges = [part.edges().sort_by_distance(p)[0] for p in [
        (14.837408393, -3.293405739, 0),
    ]]
    fillet(redondeo72_edges, radius=REDONDEO72_R)

    # Redondeo73
    redondeo73_edges = [part.edges().sort_by_distance(p)[0] for p in [
        (11.837408393, -3.293405739, 0),
    ]]
    fillet(redondeo73_edges, radius=REDONDEO73_R)

    # Redondeo74
    redondeo74_edges = [part.edges().sort_by_distance(p)[0] for p in [
        (8.837408393, -3.293405739, 0),
    ]]
    fillet(redondeo74_edges, radius=REDONDEO74_R)

    # Redondeo75
    redondeo75_edges = [part.edges().sort_by_distance(p)[0] for p in [
        (8.837408393, -5.293405739, 0),
    ]]
    fillet(redondeo75_edges, radius=REDONDEO75_R)

    # Redondeo76
    redondeo76_edges = [part.edges().sort_by_distance(p)[0] for p in [
        (5.837408393, -5.293405739, 0),
    ]]
    fillet(redondeo76_edges, radius=REDONDEO76_R)

    # Redondeo77
    redondeo77_edges = [part.edges().sort_by_distance(p)[0] for p in [
        (5.837408393, -3.293405739, 0),
    ]]
    fillet(redondeo77_edges, radius=REDONDEO77_R)

    # Redondeo78
    redondeo78_edges = [part.edges().sort_by_distance(p)[0] for p in [
        (2.837408393, -3.293405739, 0),
    ]]
    fillet(redondeo78_edges, radius=REDONDEO78_R)

    # Redondeo79
    redondeo79_edges = [part.edges().sort_by_distance(p)[0] for p in [
        (2.837408393, -5.293405739, 0),
    ]]
    fillet(redondeo79_edges, radius=REDONDEO79_R)

    # Redondeo80
    redondeo80_edges = [part.edges().sort_by_distance(p)[0] for p in [
        (-0.162591607, -5.293405739, 0),
    ]]
    fillet(redondeo80_edges, radius=REDONDEO80_R)

    # Redondeo81
    redondeo81_edges = [part.edges().sort_by_distance(p)[0] for p in [
        (-0.162591607, -3.293405739, 0),
    ]]
    fillet(redondeo81_edges, radius=REDONDEO81_R)

    # Redondeo82
    redondeo82_edges = [part.edges().sort_by_distance(p)[0] for p in [
        (-3.162591607, -3.293405739, 0),
    ]]
    fillet(redondeo82_edges, radius=REDONDEO82_R)

    # Redondeo83
    redondeo83_edges = [part.edges().sort_by_distance(p)[0] for p in [
        (-3.162591607, -5.293405739, 0),
    ]]
    fillet(redondeo83_edges, radius=REDONDEO83_R)

    # Redondeo84
    redondeo84_edges = [part.edges().sort_by_distance(p)[0] for p in [
        (-6.162591607, -5.293405739, 0),
    ]]
    fillet(redondeo84_edges, radius=REDONDEO84_R)

    # Redondeo85
    redondeo85_edges = [part.edges().sort_by_distance(p)[0] for p in [
        (-6.162591607, -3.293405739, 0),
    ]]
    fillet(redondeo85_edges, radius=REDONDEO85_R)

    # Redondeo86
    redondeo86_edges = [part.edges().sort_by_distance(p)[0] for p in [
        (-9.162591607, -3.293405739, 0),
    ]]
    fillet(redondeo86_edges, radius=REDONDEO86_R)

    # Redondeo87
    redondeo87_edges = [part.edges().sort_by_distance(p)[0] for p in [
        (-9.162591607, -5.293405739, 0),
    ]]
    fillet(redondeo87_edges, radius=REDONDEO87_R)

    # Redondeo88
    redondeo88_edges = [part.edges().sort_by_distance(p)[0] for p in [
        (-12.162591607, -5.293405739, 0),
    ]]
    fillet(redondeo88_edges, radius=REDONDEO88_R)

    # Redondeo89
    redondeo89_edges = [part.edges().sort_by_distance(p)[0] for p in [
        (-12.162591607, -3.293405739, 0),
    ]]
    fillet(redondeo89_edges, radius=REDONDEO89_R)

    # Redondeo90
    redondeo90_edges = [part.edges().sort_by_distance(p)[0] for p in [
        (-17.375, -3.81, 0),
    ]]
    fillet(redondeo90_edges, radius=REDONDEO90_R)

    # Redondeo91
    redondeo91_edges = [part.edges().sort_by_distance(p)[0] for p in [
        (-19.485, 1, 0),
    ]]
    fillet(redondeo91_edges, radius=REDONDEO91_R)

    # Redondeo92
    redondeo92_edges = [part.edges().sort_by_distance(p)[0] for p in [
        (-19.485, 3.5, 0),
    ]]
    fillet(redondeo92_edges, radius=REDONDEO92_R)

    # Redondeo93
    redondeo93_edges = [part.edges().sort_by_distance(p)[0] for p in [
        (-22.455, -3.81, 0),
    ]]
    fillet(redondeo93_edges, radius=REDONDEO93_R)

    # Redondeo94
    redondeo94_edges = [part.edges().sort_by_distance(p)[0] for p in [
        (-24.162591607, -5.293405739, 0),
    ]]
    fillet(redondeo94_edges, radius=REDONDEO94_R)

    # Redondeo95
    redondeo95_edges = [part.edges().sort_by_distance(p)[0] for p in [
        (-27.162591607, -5.293405739, 0),
    ]]
    fillet(redondeo95_edges, radius=REDONDEO95_R)

    # Redondeo96
    redondeo96_edges = [part.edges().sort_by_distance(p)[0] for p in [
        (-30.162591607, -5.293405739, 0),
    ]]
    fillet(redondeo96_edges, radius=REDONDEO96_R)

    # Redondeo97
    redondeo97_edges = [part.edges().sort_by_distance(p)[0] for p in [
        (-33.162591607, -5.293405739, 0),
    ]]
    fillet(redondeo97_edges, radius=REDONDEO97_R)

    # Redondeo98
    redondeo98_edges = [part.edges().sort_by_distance(p)[0] for p in [
        (-36.425, -3.81, 0),
    ]]
    fillet(redondeo98_edges, radius=REDONDEO98_R)


solid = part.part
